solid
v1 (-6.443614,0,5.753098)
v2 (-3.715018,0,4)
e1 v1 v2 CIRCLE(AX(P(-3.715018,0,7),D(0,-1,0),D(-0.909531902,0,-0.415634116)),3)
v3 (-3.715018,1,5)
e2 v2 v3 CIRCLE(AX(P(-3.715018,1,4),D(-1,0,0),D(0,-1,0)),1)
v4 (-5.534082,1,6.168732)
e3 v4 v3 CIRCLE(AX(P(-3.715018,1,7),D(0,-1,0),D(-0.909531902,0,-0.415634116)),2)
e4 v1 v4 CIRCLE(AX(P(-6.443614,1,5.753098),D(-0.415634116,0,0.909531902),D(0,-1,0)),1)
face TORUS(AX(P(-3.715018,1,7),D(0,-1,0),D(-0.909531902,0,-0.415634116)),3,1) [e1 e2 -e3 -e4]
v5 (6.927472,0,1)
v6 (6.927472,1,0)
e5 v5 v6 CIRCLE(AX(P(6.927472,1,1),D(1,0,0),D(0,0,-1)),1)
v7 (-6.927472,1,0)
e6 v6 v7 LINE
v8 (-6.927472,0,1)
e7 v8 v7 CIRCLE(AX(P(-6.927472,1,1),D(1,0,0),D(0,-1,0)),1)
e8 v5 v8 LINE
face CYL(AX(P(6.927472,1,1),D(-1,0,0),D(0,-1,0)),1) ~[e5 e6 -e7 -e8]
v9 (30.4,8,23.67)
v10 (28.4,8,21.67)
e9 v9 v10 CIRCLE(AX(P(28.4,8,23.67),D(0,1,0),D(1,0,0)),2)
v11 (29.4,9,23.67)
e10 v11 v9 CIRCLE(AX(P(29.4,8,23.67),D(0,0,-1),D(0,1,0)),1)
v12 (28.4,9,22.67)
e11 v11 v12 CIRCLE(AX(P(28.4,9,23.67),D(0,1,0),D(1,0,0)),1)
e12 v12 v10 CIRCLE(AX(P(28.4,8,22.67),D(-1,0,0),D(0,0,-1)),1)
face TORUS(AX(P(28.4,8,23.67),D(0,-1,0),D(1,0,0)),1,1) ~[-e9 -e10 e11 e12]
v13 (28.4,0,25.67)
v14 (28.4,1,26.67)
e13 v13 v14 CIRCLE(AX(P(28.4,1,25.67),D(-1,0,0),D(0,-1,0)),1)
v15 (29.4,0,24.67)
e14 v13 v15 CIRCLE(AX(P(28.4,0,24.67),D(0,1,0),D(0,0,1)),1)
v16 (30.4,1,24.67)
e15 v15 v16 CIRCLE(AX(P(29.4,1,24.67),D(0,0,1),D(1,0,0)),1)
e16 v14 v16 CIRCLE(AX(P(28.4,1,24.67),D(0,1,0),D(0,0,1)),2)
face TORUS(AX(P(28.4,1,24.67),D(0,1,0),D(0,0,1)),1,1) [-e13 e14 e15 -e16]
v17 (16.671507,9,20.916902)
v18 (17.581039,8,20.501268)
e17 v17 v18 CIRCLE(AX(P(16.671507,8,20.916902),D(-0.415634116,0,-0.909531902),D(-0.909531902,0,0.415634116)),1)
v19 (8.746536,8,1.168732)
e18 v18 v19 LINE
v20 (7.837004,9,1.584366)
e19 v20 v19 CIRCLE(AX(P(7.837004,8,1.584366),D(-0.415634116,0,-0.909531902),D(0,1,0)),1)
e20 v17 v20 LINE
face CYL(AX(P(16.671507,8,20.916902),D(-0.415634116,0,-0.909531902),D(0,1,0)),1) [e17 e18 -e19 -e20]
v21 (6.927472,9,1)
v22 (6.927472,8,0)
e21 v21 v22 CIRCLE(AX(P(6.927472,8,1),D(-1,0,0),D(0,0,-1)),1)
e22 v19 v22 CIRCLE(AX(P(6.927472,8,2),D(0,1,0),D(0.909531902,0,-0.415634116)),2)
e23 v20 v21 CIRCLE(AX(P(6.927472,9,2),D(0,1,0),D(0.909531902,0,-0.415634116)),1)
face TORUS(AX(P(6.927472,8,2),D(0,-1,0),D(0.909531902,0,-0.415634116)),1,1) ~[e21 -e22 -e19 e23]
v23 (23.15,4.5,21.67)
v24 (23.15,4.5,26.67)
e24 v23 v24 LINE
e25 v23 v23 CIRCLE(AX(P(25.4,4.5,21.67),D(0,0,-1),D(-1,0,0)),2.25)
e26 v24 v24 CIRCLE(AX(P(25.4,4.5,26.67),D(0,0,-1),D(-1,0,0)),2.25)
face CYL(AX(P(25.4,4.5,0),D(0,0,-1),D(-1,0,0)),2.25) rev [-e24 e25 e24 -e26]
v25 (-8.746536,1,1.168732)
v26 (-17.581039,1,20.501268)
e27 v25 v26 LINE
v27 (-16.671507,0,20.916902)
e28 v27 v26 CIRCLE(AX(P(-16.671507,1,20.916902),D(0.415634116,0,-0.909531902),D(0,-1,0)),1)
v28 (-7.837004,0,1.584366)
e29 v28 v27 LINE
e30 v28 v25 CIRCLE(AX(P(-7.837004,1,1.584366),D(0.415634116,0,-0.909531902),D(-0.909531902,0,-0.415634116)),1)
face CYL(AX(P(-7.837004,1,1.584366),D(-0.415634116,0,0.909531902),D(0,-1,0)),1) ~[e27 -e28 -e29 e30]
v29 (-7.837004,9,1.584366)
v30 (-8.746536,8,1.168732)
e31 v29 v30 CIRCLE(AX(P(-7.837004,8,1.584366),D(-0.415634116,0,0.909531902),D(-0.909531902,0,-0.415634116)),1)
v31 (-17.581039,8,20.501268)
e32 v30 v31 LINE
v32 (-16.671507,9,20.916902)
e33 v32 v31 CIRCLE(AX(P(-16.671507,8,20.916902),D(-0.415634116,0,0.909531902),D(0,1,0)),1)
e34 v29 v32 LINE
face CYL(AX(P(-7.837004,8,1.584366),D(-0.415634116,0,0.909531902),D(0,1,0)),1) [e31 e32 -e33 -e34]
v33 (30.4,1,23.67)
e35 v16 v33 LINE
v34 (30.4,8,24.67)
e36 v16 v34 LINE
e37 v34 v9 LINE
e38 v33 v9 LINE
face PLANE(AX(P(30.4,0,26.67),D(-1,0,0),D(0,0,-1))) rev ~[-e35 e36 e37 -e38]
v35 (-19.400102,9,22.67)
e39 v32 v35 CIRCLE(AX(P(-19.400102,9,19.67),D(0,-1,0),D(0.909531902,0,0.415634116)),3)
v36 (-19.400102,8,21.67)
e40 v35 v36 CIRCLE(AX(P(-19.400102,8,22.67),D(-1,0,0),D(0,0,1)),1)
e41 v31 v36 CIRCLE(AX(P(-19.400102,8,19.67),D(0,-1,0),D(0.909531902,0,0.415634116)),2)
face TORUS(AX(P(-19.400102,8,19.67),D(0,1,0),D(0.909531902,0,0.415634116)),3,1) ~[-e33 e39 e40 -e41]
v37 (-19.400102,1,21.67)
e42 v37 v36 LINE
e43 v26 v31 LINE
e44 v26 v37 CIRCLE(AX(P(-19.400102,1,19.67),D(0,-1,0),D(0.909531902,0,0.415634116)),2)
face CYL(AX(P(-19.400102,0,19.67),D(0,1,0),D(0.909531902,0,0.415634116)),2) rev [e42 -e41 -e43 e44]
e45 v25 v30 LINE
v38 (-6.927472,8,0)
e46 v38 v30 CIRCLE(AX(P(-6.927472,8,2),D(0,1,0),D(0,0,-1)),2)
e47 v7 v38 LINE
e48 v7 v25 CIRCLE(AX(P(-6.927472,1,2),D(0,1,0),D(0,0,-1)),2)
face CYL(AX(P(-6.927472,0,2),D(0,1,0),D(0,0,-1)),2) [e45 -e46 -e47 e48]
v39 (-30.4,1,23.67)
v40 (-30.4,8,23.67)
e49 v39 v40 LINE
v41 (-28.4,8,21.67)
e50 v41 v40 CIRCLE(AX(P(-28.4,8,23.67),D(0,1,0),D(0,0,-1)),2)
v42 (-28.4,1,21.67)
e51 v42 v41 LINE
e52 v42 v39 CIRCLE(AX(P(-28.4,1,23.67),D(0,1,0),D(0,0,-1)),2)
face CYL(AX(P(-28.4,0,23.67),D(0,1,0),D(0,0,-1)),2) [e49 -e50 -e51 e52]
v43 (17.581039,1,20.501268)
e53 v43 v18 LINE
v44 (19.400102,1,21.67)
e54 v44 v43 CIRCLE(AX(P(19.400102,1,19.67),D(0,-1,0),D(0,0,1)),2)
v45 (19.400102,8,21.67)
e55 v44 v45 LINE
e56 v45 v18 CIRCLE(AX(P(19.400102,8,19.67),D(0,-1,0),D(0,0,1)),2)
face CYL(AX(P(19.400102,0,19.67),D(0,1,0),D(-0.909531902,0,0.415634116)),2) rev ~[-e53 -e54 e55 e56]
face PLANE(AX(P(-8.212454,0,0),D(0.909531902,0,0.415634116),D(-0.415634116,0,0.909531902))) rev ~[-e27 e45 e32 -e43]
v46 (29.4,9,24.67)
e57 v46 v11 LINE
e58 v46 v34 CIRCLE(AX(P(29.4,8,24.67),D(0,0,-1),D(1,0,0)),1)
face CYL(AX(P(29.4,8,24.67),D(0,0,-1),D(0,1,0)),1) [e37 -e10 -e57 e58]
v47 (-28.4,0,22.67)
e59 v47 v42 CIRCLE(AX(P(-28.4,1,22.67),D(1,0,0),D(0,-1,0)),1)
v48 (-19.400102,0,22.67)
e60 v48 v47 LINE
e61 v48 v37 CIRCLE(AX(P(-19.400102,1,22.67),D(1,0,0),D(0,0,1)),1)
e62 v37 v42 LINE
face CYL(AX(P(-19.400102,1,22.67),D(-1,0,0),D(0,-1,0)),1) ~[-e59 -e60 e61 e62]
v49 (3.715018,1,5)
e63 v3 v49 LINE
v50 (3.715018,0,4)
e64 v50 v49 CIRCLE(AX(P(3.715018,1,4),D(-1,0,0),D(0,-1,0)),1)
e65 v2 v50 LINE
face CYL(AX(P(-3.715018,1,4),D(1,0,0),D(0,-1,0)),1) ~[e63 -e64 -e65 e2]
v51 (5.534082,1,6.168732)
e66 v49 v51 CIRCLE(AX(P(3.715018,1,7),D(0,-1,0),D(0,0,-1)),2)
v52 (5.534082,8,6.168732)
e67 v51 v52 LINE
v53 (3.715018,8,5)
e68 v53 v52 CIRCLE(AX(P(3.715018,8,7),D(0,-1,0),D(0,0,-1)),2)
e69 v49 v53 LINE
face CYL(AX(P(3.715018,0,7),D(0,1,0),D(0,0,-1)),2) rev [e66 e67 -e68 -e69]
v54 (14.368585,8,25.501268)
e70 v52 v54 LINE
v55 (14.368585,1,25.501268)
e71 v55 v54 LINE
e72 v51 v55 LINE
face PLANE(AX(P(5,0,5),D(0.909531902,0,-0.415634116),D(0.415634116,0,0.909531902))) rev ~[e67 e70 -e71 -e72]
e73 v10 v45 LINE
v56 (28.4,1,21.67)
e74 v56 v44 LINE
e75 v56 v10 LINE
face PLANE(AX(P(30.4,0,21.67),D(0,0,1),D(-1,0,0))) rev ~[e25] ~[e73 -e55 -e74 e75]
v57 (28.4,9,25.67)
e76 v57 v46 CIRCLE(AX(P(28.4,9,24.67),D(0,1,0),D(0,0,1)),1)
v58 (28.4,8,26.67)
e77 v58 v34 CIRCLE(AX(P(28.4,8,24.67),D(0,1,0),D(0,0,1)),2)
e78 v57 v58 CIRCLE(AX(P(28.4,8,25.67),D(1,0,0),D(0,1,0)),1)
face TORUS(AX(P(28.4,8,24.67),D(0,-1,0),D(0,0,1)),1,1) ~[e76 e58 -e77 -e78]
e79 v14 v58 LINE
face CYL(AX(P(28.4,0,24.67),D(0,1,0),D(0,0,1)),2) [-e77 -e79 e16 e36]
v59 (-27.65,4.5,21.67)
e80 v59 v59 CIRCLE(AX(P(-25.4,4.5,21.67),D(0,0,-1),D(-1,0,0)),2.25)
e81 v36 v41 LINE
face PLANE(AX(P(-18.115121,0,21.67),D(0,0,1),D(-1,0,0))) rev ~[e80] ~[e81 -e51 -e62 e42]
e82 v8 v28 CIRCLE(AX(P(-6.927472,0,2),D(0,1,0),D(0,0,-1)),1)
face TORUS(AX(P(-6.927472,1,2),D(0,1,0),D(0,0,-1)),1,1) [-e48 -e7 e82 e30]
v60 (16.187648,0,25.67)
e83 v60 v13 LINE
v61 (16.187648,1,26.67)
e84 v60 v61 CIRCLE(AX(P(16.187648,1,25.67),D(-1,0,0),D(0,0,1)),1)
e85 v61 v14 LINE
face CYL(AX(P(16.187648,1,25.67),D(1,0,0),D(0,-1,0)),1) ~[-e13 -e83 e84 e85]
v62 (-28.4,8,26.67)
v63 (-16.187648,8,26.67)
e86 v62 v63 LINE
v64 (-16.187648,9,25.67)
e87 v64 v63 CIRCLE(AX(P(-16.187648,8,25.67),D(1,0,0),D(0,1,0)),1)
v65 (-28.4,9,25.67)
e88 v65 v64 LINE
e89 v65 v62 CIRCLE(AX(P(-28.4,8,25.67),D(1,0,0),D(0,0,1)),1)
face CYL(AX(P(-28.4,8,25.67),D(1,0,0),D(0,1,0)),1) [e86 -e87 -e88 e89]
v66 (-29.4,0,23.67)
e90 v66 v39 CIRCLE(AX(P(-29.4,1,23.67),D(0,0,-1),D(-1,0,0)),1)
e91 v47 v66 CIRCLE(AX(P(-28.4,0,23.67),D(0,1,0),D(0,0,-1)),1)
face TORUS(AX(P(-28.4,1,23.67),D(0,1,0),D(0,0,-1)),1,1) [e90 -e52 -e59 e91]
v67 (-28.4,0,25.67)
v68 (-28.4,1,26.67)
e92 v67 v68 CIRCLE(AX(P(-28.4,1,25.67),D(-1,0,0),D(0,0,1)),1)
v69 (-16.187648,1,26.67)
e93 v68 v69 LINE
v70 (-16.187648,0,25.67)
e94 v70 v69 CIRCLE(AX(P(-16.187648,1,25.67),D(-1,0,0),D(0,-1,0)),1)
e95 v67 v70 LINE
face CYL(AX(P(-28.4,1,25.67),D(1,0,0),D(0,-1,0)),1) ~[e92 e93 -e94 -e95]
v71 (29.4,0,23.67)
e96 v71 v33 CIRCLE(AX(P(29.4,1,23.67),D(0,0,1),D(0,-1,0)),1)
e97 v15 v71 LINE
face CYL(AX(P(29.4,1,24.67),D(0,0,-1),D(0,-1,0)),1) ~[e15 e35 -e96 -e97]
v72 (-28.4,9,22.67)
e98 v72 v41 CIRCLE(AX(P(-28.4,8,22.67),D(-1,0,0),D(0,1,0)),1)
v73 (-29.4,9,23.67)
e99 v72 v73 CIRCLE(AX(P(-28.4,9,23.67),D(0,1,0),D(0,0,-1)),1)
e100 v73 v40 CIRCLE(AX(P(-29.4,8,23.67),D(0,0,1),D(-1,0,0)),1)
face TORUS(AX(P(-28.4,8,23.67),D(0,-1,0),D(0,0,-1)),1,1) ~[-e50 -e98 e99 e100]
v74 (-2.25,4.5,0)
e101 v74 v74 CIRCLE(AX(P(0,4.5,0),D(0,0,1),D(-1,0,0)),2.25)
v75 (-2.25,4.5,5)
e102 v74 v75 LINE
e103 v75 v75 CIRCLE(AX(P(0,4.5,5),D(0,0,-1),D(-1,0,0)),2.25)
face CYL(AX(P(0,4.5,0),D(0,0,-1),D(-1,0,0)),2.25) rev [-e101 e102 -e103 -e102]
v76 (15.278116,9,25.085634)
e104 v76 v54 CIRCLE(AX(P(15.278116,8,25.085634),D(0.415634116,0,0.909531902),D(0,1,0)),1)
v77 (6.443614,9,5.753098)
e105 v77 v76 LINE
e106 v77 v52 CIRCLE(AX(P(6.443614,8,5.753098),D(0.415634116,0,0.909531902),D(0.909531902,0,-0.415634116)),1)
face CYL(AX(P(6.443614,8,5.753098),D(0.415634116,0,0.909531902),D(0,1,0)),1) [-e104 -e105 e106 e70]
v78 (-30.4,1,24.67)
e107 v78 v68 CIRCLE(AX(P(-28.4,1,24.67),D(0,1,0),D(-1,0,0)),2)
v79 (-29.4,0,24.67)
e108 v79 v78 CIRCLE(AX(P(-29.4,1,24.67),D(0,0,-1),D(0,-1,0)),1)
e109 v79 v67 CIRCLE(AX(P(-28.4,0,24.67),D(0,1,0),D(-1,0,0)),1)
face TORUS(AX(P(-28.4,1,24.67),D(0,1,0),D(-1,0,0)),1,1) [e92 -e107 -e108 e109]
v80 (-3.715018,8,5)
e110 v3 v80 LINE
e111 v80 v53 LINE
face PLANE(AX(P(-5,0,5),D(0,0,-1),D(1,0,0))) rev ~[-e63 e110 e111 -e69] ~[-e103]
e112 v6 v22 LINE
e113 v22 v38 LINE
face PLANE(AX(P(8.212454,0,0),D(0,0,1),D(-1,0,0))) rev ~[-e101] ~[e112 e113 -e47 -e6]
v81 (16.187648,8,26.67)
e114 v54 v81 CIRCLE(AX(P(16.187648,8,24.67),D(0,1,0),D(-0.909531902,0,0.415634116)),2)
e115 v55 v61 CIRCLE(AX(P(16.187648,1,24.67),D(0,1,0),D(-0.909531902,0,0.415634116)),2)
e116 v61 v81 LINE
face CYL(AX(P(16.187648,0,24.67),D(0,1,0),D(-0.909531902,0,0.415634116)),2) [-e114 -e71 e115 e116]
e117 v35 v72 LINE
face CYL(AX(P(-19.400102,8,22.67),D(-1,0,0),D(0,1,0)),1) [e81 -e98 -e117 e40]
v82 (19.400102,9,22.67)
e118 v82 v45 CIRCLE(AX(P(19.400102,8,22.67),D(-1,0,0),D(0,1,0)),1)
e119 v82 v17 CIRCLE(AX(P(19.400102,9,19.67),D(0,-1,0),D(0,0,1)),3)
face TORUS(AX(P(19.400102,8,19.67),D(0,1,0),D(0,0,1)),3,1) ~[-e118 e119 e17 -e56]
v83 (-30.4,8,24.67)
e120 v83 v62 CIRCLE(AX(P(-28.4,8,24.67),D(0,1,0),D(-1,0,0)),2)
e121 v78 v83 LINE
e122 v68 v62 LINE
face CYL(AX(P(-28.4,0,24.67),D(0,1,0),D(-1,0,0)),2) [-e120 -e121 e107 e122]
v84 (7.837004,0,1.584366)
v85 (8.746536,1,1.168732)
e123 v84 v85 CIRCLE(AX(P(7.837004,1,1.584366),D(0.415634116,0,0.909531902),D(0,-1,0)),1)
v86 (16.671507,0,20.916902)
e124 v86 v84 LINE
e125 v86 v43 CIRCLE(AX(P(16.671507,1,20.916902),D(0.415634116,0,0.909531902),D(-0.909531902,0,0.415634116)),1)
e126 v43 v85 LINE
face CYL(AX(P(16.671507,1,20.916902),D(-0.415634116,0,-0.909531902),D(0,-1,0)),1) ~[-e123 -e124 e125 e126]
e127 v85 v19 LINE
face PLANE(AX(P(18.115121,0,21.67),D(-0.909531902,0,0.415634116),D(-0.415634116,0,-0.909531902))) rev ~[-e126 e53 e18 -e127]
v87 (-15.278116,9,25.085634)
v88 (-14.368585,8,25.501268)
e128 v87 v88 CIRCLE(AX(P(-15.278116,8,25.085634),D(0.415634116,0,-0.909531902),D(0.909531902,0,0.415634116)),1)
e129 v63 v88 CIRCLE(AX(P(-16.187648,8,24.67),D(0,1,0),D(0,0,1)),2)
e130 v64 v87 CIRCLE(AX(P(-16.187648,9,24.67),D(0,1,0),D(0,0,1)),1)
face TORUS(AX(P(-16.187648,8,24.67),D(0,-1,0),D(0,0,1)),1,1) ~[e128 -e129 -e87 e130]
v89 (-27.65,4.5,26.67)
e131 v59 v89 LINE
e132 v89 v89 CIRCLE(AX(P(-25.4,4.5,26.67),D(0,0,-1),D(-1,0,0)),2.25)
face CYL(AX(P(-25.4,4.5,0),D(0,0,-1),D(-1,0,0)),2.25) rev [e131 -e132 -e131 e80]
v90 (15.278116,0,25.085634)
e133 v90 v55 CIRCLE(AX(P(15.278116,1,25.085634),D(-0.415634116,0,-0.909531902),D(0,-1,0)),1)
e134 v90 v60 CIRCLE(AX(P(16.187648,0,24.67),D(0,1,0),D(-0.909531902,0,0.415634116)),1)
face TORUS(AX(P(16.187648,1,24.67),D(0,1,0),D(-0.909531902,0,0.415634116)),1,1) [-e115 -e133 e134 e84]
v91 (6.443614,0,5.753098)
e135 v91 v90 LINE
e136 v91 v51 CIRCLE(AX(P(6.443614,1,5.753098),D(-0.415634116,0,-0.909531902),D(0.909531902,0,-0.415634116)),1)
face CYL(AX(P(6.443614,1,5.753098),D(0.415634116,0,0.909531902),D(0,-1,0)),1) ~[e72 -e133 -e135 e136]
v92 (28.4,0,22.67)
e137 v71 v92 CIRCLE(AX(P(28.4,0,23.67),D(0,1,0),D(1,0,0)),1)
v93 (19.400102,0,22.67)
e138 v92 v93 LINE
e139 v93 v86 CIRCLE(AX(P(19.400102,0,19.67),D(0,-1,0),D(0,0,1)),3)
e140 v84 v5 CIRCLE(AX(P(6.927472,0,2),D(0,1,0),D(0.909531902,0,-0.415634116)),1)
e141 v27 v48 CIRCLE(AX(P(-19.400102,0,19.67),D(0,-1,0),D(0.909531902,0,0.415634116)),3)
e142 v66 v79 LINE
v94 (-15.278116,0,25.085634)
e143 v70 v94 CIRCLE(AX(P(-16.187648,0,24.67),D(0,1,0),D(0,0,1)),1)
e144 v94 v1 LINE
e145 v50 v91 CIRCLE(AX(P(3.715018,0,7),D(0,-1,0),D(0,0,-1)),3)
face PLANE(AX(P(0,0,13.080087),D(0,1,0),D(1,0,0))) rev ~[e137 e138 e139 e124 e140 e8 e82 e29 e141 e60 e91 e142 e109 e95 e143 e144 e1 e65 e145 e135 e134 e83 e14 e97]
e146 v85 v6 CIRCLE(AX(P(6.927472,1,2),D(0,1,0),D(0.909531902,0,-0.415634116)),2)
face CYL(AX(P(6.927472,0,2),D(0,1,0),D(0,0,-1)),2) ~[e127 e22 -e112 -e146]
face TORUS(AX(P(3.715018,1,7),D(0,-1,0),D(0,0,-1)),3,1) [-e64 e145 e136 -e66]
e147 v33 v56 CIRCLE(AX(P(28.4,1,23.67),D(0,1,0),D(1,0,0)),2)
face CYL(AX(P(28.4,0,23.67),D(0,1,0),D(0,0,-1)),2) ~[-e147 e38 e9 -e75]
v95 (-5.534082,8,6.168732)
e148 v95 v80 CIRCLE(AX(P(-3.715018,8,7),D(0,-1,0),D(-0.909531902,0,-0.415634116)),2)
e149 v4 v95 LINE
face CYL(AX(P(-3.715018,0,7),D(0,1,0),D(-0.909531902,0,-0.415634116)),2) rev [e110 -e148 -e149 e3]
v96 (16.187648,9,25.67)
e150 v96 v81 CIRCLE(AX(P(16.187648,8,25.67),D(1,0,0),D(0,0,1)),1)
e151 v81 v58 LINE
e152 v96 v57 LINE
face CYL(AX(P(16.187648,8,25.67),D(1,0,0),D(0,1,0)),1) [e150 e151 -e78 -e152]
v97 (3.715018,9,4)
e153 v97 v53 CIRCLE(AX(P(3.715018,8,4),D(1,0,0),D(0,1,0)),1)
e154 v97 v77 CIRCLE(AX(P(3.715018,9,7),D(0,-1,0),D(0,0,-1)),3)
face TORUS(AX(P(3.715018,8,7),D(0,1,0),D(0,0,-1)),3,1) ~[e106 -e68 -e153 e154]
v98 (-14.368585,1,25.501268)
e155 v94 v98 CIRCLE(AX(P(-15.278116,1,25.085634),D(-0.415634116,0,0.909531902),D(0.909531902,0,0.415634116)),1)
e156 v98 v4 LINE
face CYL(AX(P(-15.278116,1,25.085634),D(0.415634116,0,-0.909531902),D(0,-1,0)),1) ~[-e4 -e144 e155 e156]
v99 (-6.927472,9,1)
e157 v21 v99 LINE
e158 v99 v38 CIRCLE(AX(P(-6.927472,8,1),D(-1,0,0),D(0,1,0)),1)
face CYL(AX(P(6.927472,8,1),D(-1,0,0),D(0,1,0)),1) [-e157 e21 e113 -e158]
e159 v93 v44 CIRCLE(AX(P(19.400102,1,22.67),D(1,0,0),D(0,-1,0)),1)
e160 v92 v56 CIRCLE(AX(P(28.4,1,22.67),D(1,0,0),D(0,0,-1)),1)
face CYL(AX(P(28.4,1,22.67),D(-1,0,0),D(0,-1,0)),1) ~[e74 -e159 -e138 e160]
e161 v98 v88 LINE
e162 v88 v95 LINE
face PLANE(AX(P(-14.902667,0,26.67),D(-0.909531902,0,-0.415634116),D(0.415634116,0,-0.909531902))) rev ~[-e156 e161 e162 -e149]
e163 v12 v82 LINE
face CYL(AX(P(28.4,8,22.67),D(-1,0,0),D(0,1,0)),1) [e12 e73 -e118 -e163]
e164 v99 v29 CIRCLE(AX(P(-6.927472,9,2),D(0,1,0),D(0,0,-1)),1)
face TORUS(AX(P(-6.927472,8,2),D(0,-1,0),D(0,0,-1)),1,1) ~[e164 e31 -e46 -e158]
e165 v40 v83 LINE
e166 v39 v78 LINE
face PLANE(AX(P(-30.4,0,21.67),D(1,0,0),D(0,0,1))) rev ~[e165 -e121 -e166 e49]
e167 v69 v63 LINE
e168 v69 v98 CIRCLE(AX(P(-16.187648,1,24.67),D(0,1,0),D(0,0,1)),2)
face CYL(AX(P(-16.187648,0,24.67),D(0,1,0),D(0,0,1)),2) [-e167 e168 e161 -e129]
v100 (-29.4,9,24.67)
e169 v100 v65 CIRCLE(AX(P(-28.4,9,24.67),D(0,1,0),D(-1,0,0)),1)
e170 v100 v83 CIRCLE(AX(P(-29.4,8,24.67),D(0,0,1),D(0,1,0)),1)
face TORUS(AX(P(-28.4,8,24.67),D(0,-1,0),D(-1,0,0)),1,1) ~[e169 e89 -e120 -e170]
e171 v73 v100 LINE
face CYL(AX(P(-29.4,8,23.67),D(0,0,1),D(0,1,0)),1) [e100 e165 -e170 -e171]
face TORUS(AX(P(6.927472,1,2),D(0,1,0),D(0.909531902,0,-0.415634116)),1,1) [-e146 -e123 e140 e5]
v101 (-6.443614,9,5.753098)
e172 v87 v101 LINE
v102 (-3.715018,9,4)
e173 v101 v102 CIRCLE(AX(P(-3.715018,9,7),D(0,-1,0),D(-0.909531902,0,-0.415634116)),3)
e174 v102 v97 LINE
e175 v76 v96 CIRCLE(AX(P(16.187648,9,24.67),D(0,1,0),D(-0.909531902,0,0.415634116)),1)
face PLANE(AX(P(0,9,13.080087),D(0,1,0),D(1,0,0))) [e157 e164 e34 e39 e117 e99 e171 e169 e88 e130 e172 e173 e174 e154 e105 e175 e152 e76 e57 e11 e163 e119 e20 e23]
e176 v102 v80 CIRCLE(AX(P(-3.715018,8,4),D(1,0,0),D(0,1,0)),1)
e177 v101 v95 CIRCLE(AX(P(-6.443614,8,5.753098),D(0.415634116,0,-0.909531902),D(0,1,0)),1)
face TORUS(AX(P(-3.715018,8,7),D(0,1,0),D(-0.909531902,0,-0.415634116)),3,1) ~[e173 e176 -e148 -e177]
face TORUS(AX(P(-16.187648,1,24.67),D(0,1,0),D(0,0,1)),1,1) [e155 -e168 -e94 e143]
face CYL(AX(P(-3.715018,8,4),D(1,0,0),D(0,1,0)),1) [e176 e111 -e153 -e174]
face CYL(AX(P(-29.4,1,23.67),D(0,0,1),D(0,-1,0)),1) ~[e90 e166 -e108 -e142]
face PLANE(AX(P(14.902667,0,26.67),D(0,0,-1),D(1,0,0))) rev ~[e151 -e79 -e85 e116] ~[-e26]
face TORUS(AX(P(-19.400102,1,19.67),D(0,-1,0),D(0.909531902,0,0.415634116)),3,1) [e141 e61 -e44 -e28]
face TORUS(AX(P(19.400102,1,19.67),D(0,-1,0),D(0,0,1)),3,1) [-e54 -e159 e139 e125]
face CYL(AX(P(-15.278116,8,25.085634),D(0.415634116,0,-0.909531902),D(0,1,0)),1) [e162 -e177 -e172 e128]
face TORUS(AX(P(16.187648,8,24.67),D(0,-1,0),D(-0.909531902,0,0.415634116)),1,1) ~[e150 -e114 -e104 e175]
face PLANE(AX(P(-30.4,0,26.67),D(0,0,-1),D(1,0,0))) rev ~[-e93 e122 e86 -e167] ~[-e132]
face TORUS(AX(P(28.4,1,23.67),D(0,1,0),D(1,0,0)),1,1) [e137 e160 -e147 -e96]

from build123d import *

# Parameters (mm, degrees)
BOSS_EXTRUDE1_DEPTH = 9
CUT_EXTRUDE1_REACH  = 43.43
SKETCH2_R           = 2.25
FILLET1_R           = 2
FILLET2_R           = 1


with BuildPart() as part:
    # Sketch1 → Boss-Extrude1 (new body)
    with BuildSketch(Plane(origin=(0, 0, 0), x_dir=(1, 0, 0), z_dir=(0, 1, 0))):
        Polygon((8.212454023, 0), (0, 0), (-8.212454023, 0), (-18.115120739, -21.67), (-20.4, -26.67), (-14.902666716, -26.67), (-5, -5), (5, -5), (14.902666716, -26.67), (20.4, -26.67), (18.115120739, -21.67), align=None)
        Polygon((-20.4, -26.67), (-18.115120739, -21.67), (-30.4, -21.67), (-30.4, -26.67), align=None)
        Polygon((30.4, -21.67), (18.115120739, -21.67), (20.4, -26.67), (30.4, -26.67), align=None)
    extrude(amount=BOSS_EXTRUDE1_DEPTH)

    # Sketch2 → Cut-Extrude1 (cut, up to next)
    with BuildSketch(Plane.XY, mode=Mode.PRIVATE) as cut_extrude1_sk1:
        with Locations(Location((0, 4.5, 0), (0, 0, 180))):
            Circle(SKETCH2_R)
    cut_extrude1_tool1 = extrude(cut_extrude1_sk1.sketch, amount=CUT_EXTRUDE1_REACH, mode=Mode.PRIVATE) & part.part
    # Sketch2 → Cut-Extrude1 (cut, up to next)
    with BuildSketch(Plane.XY, mode=Mode.PRIVATE) as cut_extrude1_sk2:
        with Locations(Location((25.4, 4.5, 0), (0, 0, 180))):
            Circle(SKETCH2_R)
    cut_extrude1_tool2 = extrude(cut_extrude1_sk2.sketch, amount=CUT_EXTRUDE1_REACH, mode=Mode.PRIVATE) & part.part
    # Sketch2 → Cut-Extrude1 (cut, up to next)
    with BuildSketch(Plane.XY, mode=Mode.PRIVATE) as cut_extrude1_sk3:
        with Locations(Location((-25.4, 4.5, 0), (0, 0, 180))):
            Circle(SKETCH2_R)
    cut_extrude1_tool3 = extrude(cut_extrude1_sk3.sketch, amount=CUT_EXTRUDE1_REACH, mode=Mode.PRIVATE) & part.part
    add(cut_extrude1_tool1.solids().sort_by_distance((0, 4.5, 0))[0], mode=Mode.SUBTRACT)
    add(cut_extrude1_tool2.solids().sort_by_distance((25.4, 4.5, 0))[0], mode=Mode.SUBTRACT)
    add(cut_extrude1_tool3.solids().sort_by_distance((-25.4, 4.5, 0))[0], mode=Mode.SUBTRACT)

    # Fillet1
    fillet1_edges = [part.edges().sort_by_distance(p)[0] for p in [
        (-5, 4.5, 5),
        (-14.902666716, 4.5, 26.67),
        (-30.4, 4.5, 26.67),
        (-30.4, 4.5, 21.67),
        (-18.115120739, 4.5, 21.67),
        (-8.212454023, 4.5, 0),
        (8.212454023, 4.5, 0),
        (18.115120739, 4.5, 21.67),
        (30.4, 4.5, 21.67),
        (30.4, 4.5, 26.67),
        (14.902666716, 4.5, 26.67),
        (5, 4.5, 5),
    ]]
    fillet(fillet1_edges, radius=FILLET1_R)

    # Fillet2
    fillet2_edges = [part.edges().sort_by_distance(p)[0] for p in [
        (0, 0, 5),
        (0, 9, 5),
        (-9.951333358, 0, 15.835),
        (-9.951333358, 9, 15.835),
        (-22.293824163, 0, 26.67),
        (-30.4, 0, 24.17),
        (-23.900051174, 0, 21.67),
        (-13.163787381, 0, 10.835),
        (0, 0, 0),
        (13.163787381, 0, 10.835),
        (23.900051174, 0, 21.67),
        (30.4, 0, 24.17),
        (22.293824163, 0, 26.67),
        (9.951333358, 0, 15.835),
        (15.106569342, 0, 26.352637285),
        (29.814213562, 0, 26.084213562),
        (29.814213562, 0, 22.255786438),
        (8.008551397, 0, 0.317362715),
        (-8.008551397, 0, 0.317362715),
        (-29.814213562, 0, 22.255786438),
        (-29.814213562, 0, 26.084213562),
        (-15.106569342, 0, 26.352637285),
        (-22.293824163, 9, 26.67),
        (9.951333358, 9, 15.835),
        (22.293824163, 9, 26.67),
        (30.4, 9, 24.17),
        (23.900051174, 9, 21.67),
        (13.163787381, 9, 10.835),
        (0, 9, 0),
        (-13.163787381, 9, 10.835),
        (-23.900051174, 9, 21.67),
        (-30.4, 9, 24.17),
        (15.106569342, 9, 26.352637285),
        (29.814213562, 9, 26.084213562),
        (29.814213562, 9, 22.255786438),
        (8.008551397, 9, 0.317362715),
        (-8.008551397, 9, 0.317362715),
        (-29.814213562, 9, 22.255786438),
        (-29.814213562, 9, 26.084213562),
        (-15.106569342, 9, 26.352637285),
        (-4.796097374, 0, 5.317362715),
        (-4.796097374, 9, 5.317362715),
        (-18.319023366, 0, 21.352637285),
        (-18.319023366, 9, 21.352637285),
        (18.319023366, 0, 21.352637285),
        (18.319023366, 9, 21.352637285),
        (4.796097374, 0, 5.317362715),
        (4.796097374, 9, 5.317362715),
    ]]
    fillet(fillet2_edges, radius=FILLET2_R)


solid = part.part
